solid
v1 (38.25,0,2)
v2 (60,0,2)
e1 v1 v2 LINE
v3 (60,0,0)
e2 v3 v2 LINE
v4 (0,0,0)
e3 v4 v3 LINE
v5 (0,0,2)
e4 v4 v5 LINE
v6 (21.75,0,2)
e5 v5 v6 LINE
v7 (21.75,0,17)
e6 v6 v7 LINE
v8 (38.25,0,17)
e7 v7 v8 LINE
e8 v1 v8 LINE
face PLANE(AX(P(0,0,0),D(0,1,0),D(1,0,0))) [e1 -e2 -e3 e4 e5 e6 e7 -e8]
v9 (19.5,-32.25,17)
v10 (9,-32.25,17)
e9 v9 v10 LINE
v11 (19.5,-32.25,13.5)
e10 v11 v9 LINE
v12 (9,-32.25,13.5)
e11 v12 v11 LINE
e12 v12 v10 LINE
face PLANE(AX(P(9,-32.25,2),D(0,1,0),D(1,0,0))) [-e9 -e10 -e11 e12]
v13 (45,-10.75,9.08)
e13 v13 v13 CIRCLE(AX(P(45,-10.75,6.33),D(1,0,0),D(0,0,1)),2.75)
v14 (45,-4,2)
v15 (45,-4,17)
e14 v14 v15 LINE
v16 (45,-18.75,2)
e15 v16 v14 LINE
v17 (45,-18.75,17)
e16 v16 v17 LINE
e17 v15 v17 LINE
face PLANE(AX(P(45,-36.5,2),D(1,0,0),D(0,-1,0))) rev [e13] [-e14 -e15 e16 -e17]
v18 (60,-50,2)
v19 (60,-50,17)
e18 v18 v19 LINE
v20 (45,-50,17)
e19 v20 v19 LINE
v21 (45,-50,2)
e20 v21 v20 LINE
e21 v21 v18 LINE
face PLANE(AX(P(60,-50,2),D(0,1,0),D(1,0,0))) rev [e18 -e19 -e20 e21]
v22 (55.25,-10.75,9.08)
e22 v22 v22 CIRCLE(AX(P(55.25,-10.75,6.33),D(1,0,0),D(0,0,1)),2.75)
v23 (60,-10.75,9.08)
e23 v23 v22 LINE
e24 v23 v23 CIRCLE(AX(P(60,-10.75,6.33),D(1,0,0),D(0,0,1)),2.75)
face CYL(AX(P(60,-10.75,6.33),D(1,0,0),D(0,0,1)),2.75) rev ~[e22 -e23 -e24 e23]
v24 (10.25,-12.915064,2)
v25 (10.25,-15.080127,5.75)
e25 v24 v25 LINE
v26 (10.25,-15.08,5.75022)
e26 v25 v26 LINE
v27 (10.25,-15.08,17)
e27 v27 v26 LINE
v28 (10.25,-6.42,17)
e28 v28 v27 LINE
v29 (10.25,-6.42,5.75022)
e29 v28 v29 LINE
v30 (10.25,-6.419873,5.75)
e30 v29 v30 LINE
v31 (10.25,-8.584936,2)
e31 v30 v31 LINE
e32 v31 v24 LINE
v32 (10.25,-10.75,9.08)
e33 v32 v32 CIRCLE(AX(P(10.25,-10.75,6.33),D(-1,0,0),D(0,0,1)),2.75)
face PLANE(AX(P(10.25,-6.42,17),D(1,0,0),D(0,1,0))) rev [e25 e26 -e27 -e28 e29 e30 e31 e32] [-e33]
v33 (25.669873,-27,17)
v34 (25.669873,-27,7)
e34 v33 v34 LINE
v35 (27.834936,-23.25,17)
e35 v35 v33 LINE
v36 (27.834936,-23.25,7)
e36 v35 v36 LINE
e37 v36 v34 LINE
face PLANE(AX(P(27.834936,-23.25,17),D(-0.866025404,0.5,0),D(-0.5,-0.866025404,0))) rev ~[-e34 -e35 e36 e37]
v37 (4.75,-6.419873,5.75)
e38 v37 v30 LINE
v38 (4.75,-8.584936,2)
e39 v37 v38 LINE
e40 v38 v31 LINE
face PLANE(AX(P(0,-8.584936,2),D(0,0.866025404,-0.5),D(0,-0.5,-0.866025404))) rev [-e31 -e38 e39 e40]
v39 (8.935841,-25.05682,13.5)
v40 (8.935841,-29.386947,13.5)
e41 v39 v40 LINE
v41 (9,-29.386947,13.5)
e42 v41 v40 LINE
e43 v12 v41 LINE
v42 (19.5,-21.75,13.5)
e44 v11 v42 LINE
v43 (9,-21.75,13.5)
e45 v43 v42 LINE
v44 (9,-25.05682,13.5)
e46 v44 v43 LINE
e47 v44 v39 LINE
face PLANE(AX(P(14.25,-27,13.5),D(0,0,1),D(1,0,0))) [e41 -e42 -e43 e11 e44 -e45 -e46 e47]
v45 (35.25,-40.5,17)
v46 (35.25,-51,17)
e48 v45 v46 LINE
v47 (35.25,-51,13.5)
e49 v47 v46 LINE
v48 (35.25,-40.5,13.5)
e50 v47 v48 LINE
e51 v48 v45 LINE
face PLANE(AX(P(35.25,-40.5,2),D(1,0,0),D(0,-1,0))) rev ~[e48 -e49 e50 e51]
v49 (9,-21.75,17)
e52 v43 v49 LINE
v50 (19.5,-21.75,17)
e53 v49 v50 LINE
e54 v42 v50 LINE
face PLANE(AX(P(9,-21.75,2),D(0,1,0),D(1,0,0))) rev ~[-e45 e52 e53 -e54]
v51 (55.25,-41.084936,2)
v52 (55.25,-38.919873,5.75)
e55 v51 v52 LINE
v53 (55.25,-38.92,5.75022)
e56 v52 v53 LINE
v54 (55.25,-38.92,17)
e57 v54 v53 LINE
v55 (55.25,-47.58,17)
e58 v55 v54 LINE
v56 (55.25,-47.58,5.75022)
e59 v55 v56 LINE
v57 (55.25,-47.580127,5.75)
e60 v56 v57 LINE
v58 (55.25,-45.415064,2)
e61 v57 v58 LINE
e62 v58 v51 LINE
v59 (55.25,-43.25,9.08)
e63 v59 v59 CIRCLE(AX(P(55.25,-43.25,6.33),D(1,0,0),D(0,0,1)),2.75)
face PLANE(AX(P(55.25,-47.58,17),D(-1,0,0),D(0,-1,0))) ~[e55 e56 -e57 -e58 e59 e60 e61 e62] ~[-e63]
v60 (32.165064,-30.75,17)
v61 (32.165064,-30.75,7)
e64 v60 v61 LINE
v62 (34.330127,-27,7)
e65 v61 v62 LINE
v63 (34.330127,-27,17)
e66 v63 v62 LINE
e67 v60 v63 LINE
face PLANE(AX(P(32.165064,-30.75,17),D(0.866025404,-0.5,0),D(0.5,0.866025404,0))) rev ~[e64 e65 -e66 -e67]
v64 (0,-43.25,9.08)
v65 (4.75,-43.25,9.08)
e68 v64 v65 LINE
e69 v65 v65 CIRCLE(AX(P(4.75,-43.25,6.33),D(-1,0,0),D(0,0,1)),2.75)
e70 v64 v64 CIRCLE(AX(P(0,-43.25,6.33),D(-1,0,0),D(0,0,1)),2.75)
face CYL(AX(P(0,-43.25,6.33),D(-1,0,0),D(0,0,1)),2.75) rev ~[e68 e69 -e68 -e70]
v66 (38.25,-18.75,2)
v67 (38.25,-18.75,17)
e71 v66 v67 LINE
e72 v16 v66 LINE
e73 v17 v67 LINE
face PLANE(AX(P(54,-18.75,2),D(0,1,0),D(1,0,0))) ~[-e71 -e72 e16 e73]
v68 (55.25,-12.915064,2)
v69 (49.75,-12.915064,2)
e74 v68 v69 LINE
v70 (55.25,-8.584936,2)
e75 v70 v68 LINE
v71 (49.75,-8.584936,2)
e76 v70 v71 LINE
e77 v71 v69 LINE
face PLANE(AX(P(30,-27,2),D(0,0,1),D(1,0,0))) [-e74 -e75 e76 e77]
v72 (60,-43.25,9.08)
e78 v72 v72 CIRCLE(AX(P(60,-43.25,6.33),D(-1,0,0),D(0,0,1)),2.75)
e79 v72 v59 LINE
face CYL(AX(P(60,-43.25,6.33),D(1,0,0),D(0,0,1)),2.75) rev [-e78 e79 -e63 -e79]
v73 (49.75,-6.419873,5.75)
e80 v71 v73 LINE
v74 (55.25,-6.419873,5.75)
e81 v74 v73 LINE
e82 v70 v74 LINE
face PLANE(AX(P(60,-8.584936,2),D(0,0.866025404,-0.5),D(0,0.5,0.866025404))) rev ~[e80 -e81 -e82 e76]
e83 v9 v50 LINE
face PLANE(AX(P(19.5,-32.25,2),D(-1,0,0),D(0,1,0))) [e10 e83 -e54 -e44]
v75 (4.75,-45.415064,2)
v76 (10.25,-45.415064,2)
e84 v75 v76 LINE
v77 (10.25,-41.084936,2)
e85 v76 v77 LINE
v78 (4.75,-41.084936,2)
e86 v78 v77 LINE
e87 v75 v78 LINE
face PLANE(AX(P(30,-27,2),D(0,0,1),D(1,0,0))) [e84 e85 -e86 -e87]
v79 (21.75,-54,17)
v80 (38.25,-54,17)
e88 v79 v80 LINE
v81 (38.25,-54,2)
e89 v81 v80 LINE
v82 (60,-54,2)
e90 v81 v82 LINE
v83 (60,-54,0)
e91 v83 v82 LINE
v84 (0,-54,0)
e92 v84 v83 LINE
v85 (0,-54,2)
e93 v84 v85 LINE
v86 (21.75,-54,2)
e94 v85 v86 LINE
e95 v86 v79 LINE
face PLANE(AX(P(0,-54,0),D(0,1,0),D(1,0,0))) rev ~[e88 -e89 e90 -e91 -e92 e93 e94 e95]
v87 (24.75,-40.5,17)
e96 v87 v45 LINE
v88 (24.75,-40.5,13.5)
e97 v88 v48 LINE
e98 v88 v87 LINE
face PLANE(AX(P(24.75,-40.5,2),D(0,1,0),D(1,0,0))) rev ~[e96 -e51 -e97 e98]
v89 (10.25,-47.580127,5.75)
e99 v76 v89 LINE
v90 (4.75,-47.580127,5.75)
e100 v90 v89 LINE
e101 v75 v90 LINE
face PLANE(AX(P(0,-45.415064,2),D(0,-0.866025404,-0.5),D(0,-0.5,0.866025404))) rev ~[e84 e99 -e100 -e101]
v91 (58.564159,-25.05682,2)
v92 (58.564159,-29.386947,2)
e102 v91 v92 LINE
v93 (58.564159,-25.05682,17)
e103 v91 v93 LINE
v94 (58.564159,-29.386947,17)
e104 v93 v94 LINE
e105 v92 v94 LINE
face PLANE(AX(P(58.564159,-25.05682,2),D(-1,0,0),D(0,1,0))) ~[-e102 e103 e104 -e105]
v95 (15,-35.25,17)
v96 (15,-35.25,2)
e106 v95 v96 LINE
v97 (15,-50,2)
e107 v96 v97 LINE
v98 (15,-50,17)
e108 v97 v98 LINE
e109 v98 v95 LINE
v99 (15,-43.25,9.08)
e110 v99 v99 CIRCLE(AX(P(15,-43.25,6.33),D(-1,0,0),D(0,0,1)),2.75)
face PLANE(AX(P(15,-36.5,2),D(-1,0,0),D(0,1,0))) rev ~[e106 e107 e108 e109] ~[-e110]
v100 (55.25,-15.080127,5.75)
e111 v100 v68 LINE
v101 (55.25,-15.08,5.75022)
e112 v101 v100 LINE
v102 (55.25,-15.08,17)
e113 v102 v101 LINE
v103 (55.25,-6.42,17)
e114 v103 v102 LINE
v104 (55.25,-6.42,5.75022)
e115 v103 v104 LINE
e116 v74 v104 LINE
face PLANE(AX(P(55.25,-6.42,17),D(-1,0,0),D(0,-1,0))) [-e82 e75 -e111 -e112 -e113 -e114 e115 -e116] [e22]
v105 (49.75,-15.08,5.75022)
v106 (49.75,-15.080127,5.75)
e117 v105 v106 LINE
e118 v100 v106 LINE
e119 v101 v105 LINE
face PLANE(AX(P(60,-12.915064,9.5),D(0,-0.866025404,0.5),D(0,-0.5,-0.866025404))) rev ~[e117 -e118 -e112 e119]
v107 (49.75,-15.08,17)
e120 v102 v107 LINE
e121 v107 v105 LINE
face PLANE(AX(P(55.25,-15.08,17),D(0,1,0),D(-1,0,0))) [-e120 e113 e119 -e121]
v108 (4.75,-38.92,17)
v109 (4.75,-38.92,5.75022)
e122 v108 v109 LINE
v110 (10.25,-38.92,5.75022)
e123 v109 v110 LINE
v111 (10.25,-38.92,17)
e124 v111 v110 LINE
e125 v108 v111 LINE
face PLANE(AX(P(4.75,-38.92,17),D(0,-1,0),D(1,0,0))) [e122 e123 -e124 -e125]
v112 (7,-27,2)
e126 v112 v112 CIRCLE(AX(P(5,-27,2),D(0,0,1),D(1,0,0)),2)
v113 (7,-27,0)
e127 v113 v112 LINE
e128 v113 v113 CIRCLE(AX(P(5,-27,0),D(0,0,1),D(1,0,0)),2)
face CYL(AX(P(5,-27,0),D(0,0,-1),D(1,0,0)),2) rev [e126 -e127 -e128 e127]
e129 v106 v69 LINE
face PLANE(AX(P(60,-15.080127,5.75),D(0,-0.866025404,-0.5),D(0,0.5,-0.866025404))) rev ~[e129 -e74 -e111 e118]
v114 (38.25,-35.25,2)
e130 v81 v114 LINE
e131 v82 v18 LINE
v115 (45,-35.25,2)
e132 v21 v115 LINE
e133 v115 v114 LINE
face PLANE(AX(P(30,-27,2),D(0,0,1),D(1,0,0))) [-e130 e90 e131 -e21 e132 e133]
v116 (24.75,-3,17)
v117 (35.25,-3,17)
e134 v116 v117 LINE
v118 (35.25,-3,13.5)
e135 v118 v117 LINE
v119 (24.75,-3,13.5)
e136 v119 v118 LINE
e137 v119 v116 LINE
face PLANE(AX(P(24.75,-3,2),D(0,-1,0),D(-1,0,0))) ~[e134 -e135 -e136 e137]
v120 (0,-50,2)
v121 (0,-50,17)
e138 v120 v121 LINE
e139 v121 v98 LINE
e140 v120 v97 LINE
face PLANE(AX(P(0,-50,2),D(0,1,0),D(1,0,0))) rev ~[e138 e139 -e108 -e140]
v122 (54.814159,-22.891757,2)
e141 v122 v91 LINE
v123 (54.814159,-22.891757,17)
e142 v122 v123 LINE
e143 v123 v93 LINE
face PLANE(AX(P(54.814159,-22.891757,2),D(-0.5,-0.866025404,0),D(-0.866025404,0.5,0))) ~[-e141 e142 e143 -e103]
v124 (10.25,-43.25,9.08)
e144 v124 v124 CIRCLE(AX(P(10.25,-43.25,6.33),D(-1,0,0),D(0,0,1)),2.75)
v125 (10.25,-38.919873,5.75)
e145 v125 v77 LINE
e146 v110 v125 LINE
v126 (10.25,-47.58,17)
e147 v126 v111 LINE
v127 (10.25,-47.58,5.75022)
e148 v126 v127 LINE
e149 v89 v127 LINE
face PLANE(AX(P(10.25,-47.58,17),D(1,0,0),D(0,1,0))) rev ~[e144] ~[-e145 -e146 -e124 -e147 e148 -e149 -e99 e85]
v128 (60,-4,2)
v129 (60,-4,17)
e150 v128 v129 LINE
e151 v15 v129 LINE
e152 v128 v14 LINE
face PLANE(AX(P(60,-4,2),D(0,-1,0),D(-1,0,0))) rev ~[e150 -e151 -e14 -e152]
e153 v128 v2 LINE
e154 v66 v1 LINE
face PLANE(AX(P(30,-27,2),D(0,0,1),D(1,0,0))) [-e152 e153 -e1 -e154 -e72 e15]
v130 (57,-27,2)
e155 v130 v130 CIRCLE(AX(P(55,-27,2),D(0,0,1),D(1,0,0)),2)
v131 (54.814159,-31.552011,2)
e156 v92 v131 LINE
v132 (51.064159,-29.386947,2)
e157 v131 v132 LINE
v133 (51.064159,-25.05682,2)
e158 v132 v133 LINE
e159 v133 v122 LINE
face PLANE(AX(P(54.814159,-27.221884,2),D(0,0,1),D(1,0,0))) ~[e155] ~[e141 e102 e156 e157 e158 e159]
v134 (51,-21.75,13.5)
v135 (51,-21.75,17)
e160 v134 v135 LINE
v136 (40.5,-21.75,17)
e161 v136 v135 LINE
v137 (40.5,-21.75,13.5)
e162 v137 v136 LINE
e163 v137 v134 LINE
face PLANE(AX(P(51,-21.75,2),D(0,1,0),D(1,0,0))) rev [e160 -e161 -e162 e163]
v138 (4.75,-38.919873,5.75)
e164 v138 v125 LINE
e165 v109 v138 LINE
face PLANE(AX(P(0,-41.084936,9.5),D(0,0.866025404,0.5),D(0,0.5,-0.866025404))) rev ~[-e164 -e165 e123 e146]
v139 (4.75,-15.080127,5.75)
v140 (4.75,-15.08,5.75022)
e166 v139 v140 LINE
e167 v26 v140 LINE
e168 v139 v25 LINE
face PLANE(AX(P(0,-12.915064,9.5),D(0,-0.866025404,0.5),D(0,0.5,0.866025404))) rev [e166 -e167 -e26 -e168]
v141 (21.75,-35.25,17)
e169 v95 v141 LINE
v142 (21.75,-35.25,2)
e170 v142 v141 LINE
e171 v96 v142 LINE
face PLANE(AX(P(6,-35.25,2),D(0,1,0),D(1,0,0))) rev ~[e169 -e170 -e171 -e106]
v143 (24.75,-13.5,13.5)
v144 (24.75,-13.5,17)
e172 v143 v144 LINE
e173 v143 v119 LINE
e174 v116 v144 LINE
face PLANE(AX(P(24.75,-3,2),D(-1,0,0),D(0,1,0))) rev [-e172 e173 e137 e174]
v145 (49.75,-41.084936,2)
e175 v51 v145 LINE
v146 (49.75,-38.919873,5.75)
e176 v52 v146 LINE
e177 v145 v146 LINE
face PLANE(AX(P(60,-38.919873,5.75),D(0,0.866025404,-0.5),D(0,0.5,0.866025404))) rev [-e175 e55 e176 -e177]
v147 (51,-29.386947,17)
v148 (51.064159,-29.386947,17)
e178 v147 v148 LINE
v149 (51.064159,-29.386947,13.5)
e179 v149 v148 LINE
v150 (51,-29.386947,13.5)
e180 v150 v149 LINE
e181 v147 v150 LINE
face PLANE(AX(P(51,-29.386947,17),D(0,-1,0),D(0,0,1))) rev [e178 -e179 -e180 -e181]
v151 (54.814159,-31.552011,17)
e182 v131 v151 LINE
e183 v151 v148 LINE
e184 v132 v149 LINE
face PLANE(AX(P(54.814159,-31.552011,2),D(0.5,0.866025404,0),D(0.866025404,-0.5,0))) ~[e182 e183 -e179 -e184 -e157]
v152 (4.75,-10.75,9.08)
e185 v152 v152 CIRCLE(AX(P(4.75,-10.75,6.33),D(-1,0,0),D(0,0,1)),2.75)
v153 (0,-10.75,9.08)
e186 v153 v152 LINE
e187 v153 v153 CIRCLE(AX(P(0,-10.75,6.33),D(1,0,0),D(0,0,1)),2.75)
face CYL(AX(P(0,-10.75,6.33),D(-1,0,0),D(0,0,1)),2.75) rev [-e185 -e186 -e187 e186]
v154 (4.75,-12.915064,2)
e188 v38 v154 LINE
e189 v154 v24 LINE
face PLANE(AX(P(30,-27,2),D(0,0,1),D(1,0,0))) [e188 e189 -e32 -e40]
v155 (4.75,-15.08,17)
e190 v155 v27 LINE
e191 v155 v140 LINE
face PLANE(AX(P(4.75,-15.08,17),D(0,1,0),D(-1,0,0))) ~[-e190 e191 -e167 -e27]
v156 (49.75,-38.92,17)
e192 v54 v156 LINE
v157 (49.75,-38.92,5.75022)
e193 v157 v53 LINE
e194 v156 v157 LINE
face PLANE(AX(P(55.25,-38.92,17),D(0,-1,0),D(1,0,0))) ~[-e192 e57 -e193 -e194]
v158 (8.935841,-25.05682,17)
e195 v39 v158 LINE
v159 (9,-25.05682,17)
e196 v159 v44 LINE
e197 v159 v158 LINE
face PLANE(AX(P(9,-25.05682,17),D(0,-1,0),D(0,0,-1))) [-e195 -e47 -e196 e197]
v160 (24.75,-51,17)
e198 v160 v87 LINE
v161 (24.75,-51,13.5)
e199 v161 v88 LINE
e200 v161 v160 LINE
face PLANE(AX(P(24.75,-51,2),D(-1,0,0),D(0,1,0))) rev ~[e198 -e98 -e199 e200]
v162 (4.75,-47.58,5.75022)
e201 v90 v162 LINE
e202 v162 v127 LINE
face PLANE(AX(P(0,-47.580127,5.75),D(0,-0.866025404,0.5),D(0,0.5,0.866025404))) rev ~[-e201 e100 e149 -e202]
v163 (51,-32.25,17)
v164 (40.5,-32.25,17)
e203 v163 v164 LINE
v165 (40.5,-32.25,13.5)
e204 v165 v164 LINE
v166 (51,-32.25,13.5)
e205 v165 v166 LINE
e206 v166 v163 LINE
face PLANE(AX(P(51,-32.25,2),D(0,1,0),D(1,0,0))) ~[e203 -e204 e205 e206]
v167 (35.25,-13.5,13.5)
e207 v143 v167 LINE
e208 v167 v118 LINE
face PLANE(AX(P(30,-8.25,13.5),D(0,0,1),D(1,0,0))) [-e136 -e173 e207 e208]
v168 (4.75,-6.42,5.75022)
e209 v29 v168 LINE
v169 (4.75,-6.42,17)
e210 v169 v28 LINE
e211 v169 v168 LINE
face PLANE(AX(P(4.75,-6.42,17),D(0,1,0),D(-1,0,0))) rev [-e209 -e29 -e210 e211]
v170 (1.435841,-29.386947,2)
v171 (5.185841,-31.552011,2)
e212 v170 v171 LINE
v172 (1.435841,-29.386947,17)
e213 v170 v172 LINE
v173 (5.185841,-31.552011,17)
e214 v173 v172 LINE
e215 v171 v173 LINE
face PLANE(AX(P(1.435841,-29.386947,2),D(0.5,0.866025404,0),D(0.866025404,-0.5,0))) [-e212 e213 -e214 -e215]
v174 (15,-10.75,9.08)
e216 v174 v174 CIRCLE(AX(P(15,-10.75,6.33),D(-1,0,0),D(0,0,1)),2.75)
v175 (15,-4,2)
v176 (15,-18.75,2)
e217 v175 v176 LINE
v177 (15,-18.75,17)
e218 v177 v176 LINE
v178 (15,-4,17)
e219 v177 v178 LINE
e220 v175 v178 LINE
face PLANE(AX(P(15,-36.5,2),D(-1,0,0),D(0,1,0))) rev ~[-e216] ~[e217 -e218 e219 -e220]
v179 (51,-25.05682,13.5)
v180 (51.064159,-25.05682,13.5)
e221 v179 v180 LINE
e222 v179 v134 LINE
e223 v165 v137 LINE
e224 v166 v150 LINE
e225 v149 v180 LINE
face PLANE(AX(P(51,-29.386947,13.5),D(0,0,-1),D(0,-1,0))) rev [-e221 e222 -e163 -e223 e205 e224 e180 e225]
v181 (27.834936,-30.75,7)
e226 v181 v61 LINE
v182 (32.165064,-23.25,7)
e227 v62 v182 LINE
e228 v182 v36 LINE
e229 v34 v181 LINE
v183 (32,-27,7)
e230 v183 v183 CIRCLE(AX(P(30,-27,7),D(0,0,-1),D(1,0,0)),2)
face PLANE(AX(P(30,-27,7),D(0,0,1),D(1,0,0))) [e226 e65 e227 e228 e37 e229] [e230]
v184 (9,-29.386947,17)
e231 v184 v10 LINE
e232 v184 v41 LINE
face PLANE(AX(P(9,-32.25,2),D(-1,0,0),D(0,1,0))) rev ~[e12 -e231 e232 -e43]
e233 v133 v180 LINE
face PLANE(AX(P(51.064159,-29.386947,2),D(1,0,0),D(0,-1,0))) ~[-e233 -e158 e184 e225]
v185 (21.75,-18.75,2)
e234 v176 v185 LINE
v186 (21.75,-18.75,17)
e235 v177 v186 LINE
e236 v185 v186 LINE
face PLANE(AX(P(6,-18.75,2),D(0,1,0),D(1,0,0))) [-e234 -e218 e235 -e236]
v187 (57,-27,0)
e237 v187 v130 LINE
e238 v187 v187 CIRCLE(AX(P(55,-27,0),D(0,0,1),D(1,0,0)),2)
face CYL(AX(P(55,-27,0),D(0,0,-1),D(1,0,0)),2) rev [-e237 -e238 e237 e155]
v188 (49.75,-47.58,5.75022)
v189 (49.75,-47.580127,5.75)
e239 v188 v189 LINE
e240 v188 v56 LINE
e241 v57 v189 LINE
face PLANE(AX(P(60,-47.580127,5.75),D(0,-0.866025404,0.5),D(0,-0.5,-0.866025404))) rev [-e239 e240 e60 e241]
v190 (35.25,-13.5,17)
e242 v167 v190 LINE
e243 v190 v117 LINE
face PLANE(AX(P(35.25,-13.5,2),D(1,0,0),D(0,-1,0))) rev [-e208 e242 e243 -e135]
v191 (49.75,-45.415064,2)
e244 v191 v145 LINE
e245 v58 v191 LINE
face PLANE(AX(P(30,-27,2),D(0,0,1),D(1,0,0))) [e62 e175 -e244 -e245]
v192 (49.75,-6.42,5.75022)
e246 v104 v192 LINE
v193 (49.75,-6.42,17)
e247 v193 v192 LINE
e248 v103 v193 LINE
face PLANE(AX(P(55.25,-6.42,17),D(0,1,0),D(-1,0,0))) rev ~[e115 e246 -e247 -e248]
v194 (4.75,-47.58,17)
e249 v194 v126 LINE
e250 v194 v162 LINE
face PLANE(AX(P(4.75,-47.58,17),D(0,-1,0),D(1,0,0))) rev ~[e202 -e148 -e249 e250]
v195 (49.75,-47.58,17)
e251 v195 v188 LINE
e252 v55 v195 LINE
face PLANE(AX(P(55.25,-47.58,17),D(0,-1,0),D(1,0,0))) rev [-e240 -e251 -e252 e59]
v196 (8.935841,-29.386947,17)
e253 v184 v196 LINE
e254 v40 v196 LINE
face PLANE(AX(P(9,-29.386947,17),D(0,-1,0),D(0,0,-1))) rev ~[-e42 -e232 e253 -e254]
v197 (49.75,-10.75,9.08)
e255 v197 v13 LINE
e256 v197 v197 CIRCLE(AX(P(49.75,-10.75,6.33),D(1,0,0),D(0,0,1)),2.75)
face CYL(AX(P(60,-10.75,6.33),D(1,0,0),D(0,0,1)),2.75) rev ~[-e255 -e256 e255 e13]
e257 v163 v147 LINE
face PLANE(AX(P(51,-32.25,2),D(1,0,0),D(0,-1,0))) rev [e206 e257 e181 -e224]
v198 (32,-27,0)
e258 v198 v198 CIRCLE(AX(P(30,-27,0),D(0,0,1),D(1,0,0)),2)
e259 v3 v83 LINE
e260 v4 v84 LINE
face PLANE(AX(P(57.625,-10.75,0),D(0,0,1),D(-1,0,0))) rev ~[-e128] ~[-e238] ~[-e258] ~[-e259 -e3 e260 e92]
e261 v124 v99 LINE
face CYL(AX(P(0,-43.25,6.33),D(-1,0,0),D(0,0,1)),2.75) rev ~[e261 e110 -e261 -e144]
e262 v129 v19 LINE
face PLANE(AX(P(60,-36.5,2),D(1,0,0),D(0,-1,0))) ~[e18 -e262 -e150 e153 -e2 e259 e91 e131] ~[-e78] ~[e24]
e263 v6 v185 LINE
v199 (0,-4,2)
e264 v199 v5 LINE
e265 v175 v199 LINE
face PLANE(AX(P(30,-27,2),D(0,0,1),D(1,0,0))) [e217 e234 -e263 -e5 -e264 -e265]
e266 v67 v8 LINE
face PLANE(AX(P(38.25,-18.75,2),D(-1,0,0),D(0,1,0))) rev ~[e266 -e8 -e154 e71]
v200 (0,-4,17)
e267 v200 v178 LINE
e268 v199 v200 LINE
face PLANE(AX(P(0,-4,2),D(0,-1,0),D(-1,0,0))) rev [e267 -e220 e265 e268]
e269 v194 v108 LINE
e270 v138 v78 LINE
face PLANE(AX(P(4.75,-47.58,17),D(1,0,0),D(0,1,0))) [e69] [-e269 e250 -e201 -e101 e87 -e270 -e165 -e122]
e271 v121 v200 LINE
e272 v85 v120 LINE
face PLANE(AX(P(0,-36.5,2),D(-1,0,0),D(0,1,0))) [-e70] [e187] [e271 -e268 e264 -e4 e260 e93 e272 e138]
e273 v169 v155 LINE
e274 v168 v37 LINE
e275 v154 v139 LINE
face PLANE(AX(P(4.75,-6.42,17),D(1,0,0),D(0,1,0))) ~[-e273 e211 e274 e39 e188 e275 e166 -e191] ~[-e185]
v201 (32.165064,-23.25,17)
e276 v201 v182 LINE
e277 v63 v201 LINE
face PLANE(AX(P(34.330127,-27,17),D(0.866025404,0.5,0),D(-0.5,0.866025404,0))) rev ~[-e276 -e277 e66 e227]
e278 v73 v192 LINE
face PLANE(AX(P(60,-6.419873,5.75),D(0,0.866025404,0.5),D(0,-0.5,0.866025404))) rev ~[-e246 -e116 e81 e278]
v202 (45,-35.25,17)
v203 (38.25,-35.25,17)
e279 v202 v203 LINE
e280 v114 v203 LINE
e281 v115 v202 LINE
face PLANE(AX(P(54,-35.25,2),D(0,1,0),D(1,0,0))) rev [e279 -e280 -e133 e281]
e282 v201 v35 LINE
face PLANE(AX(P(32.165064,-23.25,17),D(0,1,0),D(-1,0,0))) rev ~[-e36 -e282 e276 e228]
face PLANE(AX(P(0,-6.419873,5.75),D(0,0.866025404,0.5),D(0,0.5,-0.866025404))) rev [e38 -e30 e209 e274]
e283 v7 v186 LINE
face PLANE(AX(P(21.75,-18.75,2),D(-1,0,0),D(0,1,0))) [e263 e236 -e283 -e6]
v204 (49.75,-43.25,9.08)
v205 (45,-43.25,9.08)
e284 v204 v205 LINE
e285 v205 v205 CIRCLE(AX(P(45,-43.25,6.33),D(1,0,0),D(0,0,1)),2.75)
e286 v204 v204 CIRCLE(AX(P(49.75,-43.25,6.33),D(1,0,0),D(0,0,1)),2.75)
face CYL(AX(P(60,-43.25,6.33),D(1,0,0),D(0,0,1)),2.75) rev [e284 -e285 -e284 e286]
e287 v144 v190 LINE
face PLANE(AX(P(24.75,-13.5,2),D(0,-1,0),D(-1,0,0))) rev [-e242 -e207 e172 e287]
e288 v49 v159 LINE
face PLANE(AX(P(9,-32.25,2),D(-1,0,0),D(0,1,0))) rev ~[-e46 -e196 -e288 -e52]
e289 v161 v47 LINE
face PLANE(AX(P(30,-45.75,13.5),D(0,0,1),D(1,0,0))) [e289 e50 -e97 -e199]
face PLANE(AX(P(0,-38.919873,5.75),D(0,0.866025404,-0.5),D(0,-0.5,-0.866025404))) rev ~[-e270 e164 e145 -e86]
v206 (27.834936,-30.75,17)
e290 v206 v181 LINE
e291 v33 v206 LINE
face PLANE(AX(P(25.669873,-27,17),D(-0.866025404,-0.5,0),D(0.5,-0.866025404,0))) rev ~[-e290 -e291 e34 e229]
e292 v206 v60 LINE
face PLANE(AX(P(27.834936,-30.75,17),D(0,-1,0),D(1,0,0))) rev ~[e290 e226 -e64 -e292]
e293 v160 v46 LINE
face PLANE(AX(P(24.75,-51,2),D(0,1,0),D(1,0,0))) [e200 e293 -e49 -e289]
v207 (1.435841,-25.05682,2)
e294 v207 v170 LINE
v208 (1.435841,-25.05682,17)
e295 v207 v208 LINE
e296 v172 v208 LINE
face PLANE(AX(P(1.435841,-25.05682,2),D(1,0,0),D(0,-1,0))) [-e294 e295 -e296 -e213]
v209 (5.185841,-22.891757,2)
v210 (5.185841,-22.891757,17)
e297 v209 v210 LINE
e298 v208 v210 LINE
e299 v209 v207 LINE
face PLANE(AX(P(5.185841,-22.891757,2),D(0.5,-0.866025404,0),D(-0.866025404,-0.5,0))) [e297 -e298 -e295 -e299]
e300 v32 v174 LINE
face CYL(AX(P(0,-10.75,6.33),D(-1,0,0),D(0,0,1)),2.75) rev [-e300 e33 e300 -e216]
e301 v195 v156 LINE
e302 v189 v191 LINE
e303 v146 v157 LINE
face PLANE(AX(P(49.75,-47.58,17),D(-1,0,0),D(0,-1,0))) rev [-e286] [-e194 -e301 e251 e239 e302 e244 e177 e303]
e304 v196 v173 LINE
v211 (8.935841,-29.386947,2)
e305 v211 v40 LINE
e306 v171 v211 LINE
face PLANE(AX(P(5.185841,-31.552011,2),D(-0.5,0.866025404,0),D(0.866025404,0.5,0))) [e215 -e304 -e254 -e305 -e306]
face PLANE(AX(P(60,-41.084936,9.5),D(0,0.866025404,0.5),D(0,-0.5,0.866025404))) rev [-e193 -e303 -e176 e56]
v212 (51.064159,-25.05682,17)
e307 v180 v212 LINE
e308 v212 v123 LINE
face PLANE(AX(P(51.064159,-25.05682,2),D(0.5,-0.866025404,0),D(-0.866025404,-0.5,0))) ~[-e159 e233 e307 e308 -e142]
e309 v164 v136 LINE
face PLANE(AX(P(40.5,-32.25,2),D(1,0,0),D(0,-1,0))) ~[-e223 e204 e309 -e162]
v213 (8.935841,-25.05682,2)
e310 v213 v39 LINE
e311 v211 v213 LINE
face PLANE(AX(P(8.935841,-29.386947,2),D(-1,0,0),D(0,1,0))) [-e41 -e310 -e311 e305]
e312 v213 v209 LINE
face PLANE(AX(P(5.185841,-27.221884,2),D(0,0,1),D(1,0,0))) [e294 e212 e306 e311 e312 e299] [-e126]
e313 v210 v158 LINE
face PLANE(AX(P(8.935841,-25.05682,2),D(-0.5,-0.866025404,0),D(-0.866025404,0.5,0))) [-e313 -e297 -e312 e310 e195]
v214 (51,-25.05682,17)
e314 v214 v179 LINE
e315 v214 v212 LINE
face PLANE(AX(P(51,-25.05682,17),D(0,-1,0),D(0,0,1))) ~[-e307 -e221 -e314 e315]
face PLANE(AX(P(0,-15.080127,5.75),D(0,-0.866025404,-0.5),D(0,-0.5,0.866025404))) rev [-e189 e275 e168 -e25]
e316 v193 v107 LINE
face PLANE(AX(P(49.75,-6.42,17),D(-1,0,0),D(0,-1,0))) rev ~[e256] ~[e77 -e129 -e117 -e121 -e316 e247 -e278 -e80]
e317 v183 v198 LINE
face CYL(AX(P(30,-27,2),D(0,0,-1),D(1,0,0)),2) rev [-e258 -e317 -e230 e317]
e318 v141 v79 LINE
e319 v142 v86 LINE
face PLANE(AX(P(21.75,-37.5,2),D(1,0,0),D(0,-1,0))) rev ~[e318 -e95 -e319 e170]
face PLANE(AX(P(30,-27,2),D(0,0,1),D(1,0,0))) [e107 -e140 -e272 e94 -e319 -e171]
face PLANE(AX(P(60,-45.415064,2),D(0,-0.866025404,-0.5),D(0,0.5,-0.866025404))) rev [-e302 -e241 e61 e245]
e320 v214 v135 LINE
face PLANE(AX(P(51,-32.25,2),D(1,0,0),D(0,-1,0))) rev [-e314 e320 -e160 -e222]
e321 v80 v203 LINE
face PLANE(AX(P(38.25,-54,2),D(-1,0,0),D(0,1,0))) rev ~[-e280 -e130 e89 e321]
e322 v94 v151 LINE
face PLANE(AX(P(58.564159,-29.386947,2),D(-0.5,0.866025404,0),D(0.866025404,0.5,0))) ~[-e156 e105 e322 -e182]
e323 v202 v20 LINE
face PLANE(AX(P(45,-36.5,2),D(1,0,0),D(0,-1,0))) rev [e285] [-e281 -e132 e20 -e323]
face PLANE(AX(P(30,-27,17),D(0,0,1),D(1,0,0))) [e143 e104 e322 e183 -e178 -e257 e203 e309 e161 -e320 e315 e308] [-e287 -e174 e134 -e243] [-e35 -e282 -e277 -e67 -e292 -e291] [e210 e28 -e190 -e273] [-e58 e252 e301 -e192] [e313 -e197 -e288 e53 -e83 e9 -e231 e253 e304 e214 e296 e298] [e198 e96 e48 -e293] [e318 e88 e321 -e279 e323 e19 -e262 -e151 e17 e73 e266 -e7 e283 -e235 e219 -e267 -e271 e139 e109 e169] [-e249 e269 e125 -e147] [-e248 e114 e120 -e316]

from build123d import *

# Parameters (mm, degrees)
ESQUISSE1_W               = 60
ESQUISSE1_H               = 54
ESQUISSE1_R               = 2
BOSS_EXTRU_1_DEPTH        = 2
ESQUISSE2_W               = 15
ESQUISSE2_H               = 13.5
BOSS_EXTRU_2_DEPTH        = 15
ENL_V_MAT_EXTRU_2_DEPTH   = 16
ESQUISSE5_W               = 4.75
ESQUISSE5_H               = 13.5
BOSS_EXTRU_3_DEPTH        = 17
ESQUISSE6_W               = 5.5
ESQUISSE6_H               = 8.66
ENL_V_MAT_EXTRU_3_DEPTH   = 11.25
ESQUISSE7_R               = 2.75
ENL_V_MAT_EXTRU_4_DEPTH   = 28
SYM_TRIE2_COPY_1_SKETCH_W = 15
SYM_TRIE2_COPY_1_SKETCH_H = 13.5
SYM_TRIE2_COPY_1_DEPTH    = 15
SYM_TRIE2_COPY_2_DEPTH    = 16
SYM_TRIE2_COPY_3_SKETCH_W = 4.75
SYM_TRIE2_COPY_3_SKETCH_H = 13.5
SYM_TRIE2_COPY_3_DEPTH    = 17
SYM_TRIE2_COPY_4_SKETCH_W = 5.5
SYM_TRIE2_COPY_4_SKETCH_H = 8.66
SYM_TRIE2_COPY_4_DEPTH    = 11.25
SYM_TRIE2_COPY_5_SKETCH_R = 2.75
SYM_TRIE2_COPY_5_DEPTH    = 28
ESQUISSE8_W               = 10.5
ESQUISSE8_H               = 3
BOSS_EXTRU_4_DEPTH        = 15
ESQUISSE12_W              = 15
ESQUISSE12_H              = 19
BOSS_EXTRU_6_DEPTH        = 15
ESQUISSE9_W               = 16.5
ESQUISSE9_H               = 16.5
ESQUISSE9_W_2             = 10.5
ESQUISSE9_H_2             = 10.5
BOSS_EXTRU_7_DEPTH        = 15
ENL_V_MAT_EXTRU_6_DEPTH   = 21
ESQUISSE13_W              = 10.5
ESQUISSE13_H              = 10.5
ENL_V_MAT_EXTRU_7_DEPTH   = 21
ESQUISSE15_R              = 2
ESQUISSE15_W              = 0.75
ESQUISSE15_H              = 2.25
BOSS_EXTRU_9_DEPTH        = 15
ENL_V_MAT_EXTRU_8_DEPTH   = 10
ESQUISSE17_W              = 10.5
ESQUISSE17_H              = 10.5
BOSS_EXTRU_10_DEPTH       = 11.5
ESQUISSE18_W              = 3.5
ESQUISSE18_H              = 4.330127019
ENL_V_MAT_EXTRU_9_DEPTH   = 1.5


with BuildPart() as part:
    # Esquisse1 → Boss.-Extru.1 (new body)
    with BuildSketch(Plane.XY):
        with Locations((30, -27)):
            Rectangle(ESQUISSE1_W, ESQUISSE1_H)
        with Locations((5, -27)):
            Circle(ESQUISSE1_R, mode=Mode.SUBTRACT)
        with Locations((30, -27)):
            Circle(ESQUISSE1_R, mode=Mode.SUBTRACT)
        with Locations((55, -27)):
            Circle(ESQUISSE1_R, mode=Mode.SUBTRACT)
    extrude(amount=BOSS_EXTRU_1_DEPTH)

    # Esquisse2 → Boss.-Extru.2 (add)
    with BuildSketch(Plane.XY.offset(2)):
        with Locations((7.5, -43.25)):
            Rectangle(ESQUISSE2_W, ESQUISSE2_H)
    boss_extru_2 = extrude(amount=BOSS_EXTRU_2_DEPTH)

    # Esquisse4 → Enlèv. mat.-Extru.2 (cut)
    with BuildSketch(Plane.ZY):
        Polygon((9.5, -45.415063509), (9.5, -41.084936491), (5.75, -38.919872981), (2, -41.084936491), (2, -45.415063509), (5.75, -47.580127019), align=None)
    enl_v_mat_extru_2 = extrude(amount=-ENL_V_MAT_EXTRU_2_DEPTH, mode=Mode.SUBTRACT)

    # Esquisse5 → Boss.-Extru.3 (add)
    with BuildSketch(Plane.XY.offset(17)):
        with Locations((2.375, -43.25)):
            Rectangle(ESQUISSE5_W, ESQUISSE5_H)
        with Locations((12.625, -43.25)):
            Rectangle(ESQUISSE5_W, ESQUISSE5_H)
    boss_extru_3 = extrude(amount=-BOSS_EXTRU_3_DEPTH)

    # Esquisse6 → Enlèv. mat.-Extru.3 (cut)
    with BuildSketch(Plane.XY.offset(17)):
        with Locations((7.5, -43.25)):
            Rectangle(ESQUISSE6_W, ESQUISSE6_H)
    enl_v_mat_extru_3 = extrude(amount=-ENL_V_MAT_EXTRU_3_DEPTH, mode=Mode.SUBTRACT)

    # Esquisse7 → Enlèv. mat.-Extru.4 (cut)
    with BuildSketch(Plane.ZY):
        with Locations((6.33, -43.25)):
            Circle(ESQUISSE7_R)
    enl_v_mat_extru_4 = extrude(amount=-ENL_V_MAT_EXTRU_4_DEPTH, mode=Mode.SUBTRACT)

    # Symétrie1: Boss.-Extru.2, Enlèv. mat.-Extru.2, Boss.-Extru.3, Enlèv. mat.-Extru.3, Enlèv. mat.-Extru.4 across plane
    add(boss_extru_2.mirror(Plane(origin=(0, -27, 0), x_dir=(0, 0, 1), z_dir=(0, -1, 0))))
    add(enl_v_mat_extru_2.mirror(Plane(origin=(0, -27, 0), x_dir=(0, 0, 1), z_dir=(0, -1, 0))), mode=Mode.SUBTRACT)
    add(boss_extru_3.mirror(Plane(origin=(0, -27, 0), x_dir=(0, 0, 1), z_dir=(0, -1, 0))))
    add(enl_v_mat_extru_3.mirror(Plane(origin=(0, -27, 0), x_dir=(0, 0, 1), z_dir=(0, -1, 0))), mode=Mode.SUBTRACT)
    add(enl_v_mat_extru_4.mirror(Plane(origin=(0, -27, 0), x_dir=(0, 0, 1), z_dir=(0, -1, 0))), mode=Mode.SUBTRACT)

    # Symétrie2: Boss.-Extru.2, Enlèv. mat.-Extru.2, Boss.-Extru.3, Enlèv. mat.-Extru.3, Enlèv. mat.-Extru.4 across plane
    add(boss_extru_2.mirror(Plane.ZY.offset(-30)))
    add(enl_v_mat_extru_2.mirror(Plane.ZY.offset(-30)), mode=Mode.SUBTRACT)
    add(boss_extru_3.mirror(Plane.ZY.offset(-30)))
    add(enl_v_mat_extru_3.mirror(Plane.ZY.offset(-30)), mode=Mode.SUBTRACT)
    add(enl_v_mat_extru_4.mirror(Plane.ZY.offset(-30)), mode=Mode.SUBTRACT)

    # Symétrie2 copy 1 sketch → Symétrie2 copy 1 (add)
    with BuildSketch(Plane(origin=(60, -54, 2), x_dir=(-1, 0, 0), z_dir=(0, 0, 1))):
        with Locations((7.5, -43.25)):
            Rectangle(SYM_TRIE2_COPY_1_SKETCH_W, SYM_TRIE2_COPY_1_SKETCH_H)
    extrude(amount=SYM_TRIE2_COPY_1_DEPTH)

    # Symétrie2 copy 2 sketch → Symétrie2 copy 2 (cut)
    with BuildSketch(Plane(origin=(60, -54, 0), x_dir=(0, 0, 1), z_dir=(1, 0, 0))):
        Polygon((9.5, -45.415063509), (9.5, -41.084936491), (5.75, -38.919872981), (2, -41.084936491), (2, -45.415063509), (5.75, -47.580127019), align=None)
    extrude(amount=-SYM_TRIE2_COPY_2_DEPTH, mode=Mode.SUBTRACT)

    # Symétrie2 copy 3 sketch → Symétrie2 copy 3 (add)
    with BuildSketch(Plane(origin=(60, -54, 17), x_dir=(-1, 0, 0), z_dir=(0, 0, 1))):
        with Locations((2.375, -43.25)):
            Rectangle(SYM_TRIE2_COPY_3_SKETCH_W, SYM_TRIE2_COPY_3_SKETCH_H)
        with Locations((12.625, -43.25)):
            Rectangle(SYM_TRIE2_COPY_3_SKETCH_W, SYM_TRIE2_COPY_3_SKETCH_H)
    extrude(amount=-SYM_TRIE2_COPY_3_DEPTH)

    # Symétrie2 copy 4 sketch → Symétrie2 copy 4 (cut)
    with BuildSketch(Plane(origin=(60, -54, 17), x_dir=(-1, 0, 0), z_dir=(0, 0, 1))):
        with Locations((7.5, -43.25)):
            Rectangle(SYM_TRIE2_COPY_4_SKETCH_W, SYM_TRIE2_COPY_4_SKETCH_H)
    extrude(amount=-SYM_TRIE2_COPY_4_DEPTH, mode=Mode.SUBTRACT)

    # Symétrie2 copy 5 sketch → Symétrie2 copy 5 (cut)
    with BuildSketch(Plane(origin=(60, -54, 0), x_dir=(0, 0, 1), z_dir=(1, 0, 0))):
        with Locations((6.33, -43.25)):
            Circle(SYM_TRIE2_COPY_5_SKETCH_R)
    extrude(amount=-SYM_TRIE2_COPY_5_DEPTH, mode=Mode.SUBTRACT)

    # Esquisse8 → Boss.-Extru.4 (add)
    with BuildSketch(Plane.XY.offset(2)):
        Polygon((35.25, -51), (35.25, -54), (38.25, -54), (38.25, -37.5), (21.75, -37.5), (21.75, -54), (24.75, -54), (24.75, -51), (24.75, -40.5), (35.25, -40.5), align=None)
        with Locations((30, -52.5)):
            Rectangle(ESQUISSE8_W, ESQUISSE8_H)
    boss_extru_4 = extrude(amount=BOSS_EXTRU_4_DEPTH)

    # Esquisse12 → Boss.-Extru.6 (add)
    with BuildSketch(Plane.XY.offset(2)):
        with Locations((7.5, -27)):
            Rectangle(ESQUISSE12_W, ESQUISSE12_H)
    boss_extru_6 = extrude(amount=BOSS_EXTRU_6_DEPTH)

    # Esquisse9 → Boss.-Extru.7 (add)
    with BuildSketch(Plane.XY.offset(2)):
        with Locations((14.25, -27)):
            Rectangle(ESQUISSE9_W, ESQUISSE9_H)
        with Locations((14.25, -27)):
            Rectangle(ESQUISSE9_W_2, ESQUISSE9_H_2, mode=Mode.SUBTRACT)
    boss_extru_7 = extrude(amount=BOSS_EXTRU_7_DEPTH)

    # Esquisse11 → Enlèv. mat.-Extru.6 (cut)
    with BuildSketch(Plane.XY.offset(2)):
        Polygon((8.935840957, -29.386947115), (8.935840957, -25.056820096), (5.185840957, -22.891756586), (1.435840957, -25.056820096), (1.435840957, -29.386947115), (5.185840957, -31.552010624), align=None)
    enl_v_mat_extru_6 = extrude(amount=ENL_V_MAT_EXTRU_6_DEPTH, mode=Mode.SUBTRACT)

    # Esquisse13 → Enlèv. mat.-Extru.7 (cut)
    with BuildSketch(Plane.XY.offset(2)):
        with Locations((14.25, -27)):
            Rectangle(ESQUISSE13_W, ESQUISSE13_H)
    enl_v_mat_extru_7 = extrude(amount=ENL_V_MAT_EXTRU_7_DEPTH, mode=Mode.SUBTRACT)

    # Symétrie3: Boss.-Extru.6, Boss.-Extru.7, Enlèv. mat.-Extru.6, Enlèv. mat.-Extru.7 across plane
    add(boss_extru_6.mirror(Plane.ZY.offset(-30)))
    add(boss_extru_7.mirror(Plane.ZY.offset(-30)))
    add(enl_v_mat_extru_6.mirror(Plane.ZY.offset(-30)), mode=Mode.SUBTRACT)
    add(enl_v_mat_extru_7.mirror(Plane.ZY.offset(-30)), mode=Mode.SUBTRACT)

    # Symétrie4: Boss.-Extru.4 across plane
    add(boss_extru_4.mirror(Plane(origin=(0, -27, 0), x_dir=(0, 0, 1), z_dir=(0, -1, 0))))

    # Esquisse15 → Boss.-Extru.9 (add)
    # profile 1 of 5: a face of its own
    with BuildSketch(Plane.XY.offset(2)):
        Polygon((22.5, -35.25), (22.5, -37.5), (37.5, -37.5), (37.5, -35.25), (37.5, -18.75), (37.5, -16.5), (22.5, -16.5), (22.5, -18.75), align=None)
        with Locations((30, -27)):
            Circle(ESQUISSE15_R, mode=Mode.SUBTRACT)
    # profile 2 of 5: a face of its own
    with BuildSketch(Plane.XY.offset(2)):
        with Locations((22.125, -36.375)):
            Rectangle(ESQUISSE15_W, ESQUISSE15_H)
    # profile 3 of 5: a face of its own
    with BuildSketch(Plane.XY.offset(2)):
        with Locations((37.875, -36.375)):
            Rectangle(ESQUISSE15_W, ESQUISSE15_H)
    # profile 4 of 5: a face of its own
    with BuildSketch(Plane.XY.offset(2)):
        with Locations((37.875, -17.625)):
            Rectangle(ESQUISSE15_W, ESQUISSE15_H)
    # profile 5 of 5: a face of its own
    with BuildSketch(Plane.XY.offset(2)):
        with Locations((22.125, -17.625)):
            Rectangle(ESQUISSE15_W, ESQUISSE15_H)
    extrude(amount=BOSS_EXTRU_9_DEPTH)

    # Esquisse16 → Enlèv. mat.-Extru.8 (cut)
    with BuildSketch(Plane.XY.offset(17)):
        Polygon((32.165063509, -23.25), (27.834936491, -23.25), (25.669872981, -27), (27.834936491, -30.75), (32.165063509, -30.75), (34.330127019, -27), align=None)
    extrude(amount=-ENL_V_MAT_EXTRU_8_DEPTH, mode=Mode.SUBTRACT)

    # Esquisse17 → Boss.-Extru.10 (add)
    with BuildSketch(Plane.XY.offset(2)):
        with Locations((14.25, -27)):
            Rectangle(ESQUISSE17_W, ESQUISSE17_H)
        with Locations((45.75, -27)):
            Rectangle(ESQUISSE17_W, ESQUISSE17_H)
        with Locations((30, -8.25)):
            Rectangle(ESQUISSE17_W, ESQUISSE17_H)
        with Locations((30, -45.75)):
            Rectangle(ESQUISSE17_W, ESQUISSE17_H)
    extrude(amount=BOSS_EXTRU_10_DEPTH)

    # Esquisse18 → Enlèv. mat.-Extru.9 (cut)
    with BuildSketch(Plane(origin=(9, 0, 0), x_dir=(0, 0, -1), z_dir=(1, 0, 0))):
        with Locations((-15.25, -27.221883606)):
            Rectangle(ESQUISSE18_W, ESQUISSE18_H)
    enl_v_mat_extru_9 = extrude(amount=-ENL_V_MAT_EXTRU_9_DEPTH, mode=Mode.SUBTRACT)

    # Symétrie5: Enlèv. mat.-Extru.9 across plane
    add(enl_v_mat_extru_9.mirror(Plane.ZY.offset(-30)), mode=Mode.SUBTRACT)


solid = part.part
